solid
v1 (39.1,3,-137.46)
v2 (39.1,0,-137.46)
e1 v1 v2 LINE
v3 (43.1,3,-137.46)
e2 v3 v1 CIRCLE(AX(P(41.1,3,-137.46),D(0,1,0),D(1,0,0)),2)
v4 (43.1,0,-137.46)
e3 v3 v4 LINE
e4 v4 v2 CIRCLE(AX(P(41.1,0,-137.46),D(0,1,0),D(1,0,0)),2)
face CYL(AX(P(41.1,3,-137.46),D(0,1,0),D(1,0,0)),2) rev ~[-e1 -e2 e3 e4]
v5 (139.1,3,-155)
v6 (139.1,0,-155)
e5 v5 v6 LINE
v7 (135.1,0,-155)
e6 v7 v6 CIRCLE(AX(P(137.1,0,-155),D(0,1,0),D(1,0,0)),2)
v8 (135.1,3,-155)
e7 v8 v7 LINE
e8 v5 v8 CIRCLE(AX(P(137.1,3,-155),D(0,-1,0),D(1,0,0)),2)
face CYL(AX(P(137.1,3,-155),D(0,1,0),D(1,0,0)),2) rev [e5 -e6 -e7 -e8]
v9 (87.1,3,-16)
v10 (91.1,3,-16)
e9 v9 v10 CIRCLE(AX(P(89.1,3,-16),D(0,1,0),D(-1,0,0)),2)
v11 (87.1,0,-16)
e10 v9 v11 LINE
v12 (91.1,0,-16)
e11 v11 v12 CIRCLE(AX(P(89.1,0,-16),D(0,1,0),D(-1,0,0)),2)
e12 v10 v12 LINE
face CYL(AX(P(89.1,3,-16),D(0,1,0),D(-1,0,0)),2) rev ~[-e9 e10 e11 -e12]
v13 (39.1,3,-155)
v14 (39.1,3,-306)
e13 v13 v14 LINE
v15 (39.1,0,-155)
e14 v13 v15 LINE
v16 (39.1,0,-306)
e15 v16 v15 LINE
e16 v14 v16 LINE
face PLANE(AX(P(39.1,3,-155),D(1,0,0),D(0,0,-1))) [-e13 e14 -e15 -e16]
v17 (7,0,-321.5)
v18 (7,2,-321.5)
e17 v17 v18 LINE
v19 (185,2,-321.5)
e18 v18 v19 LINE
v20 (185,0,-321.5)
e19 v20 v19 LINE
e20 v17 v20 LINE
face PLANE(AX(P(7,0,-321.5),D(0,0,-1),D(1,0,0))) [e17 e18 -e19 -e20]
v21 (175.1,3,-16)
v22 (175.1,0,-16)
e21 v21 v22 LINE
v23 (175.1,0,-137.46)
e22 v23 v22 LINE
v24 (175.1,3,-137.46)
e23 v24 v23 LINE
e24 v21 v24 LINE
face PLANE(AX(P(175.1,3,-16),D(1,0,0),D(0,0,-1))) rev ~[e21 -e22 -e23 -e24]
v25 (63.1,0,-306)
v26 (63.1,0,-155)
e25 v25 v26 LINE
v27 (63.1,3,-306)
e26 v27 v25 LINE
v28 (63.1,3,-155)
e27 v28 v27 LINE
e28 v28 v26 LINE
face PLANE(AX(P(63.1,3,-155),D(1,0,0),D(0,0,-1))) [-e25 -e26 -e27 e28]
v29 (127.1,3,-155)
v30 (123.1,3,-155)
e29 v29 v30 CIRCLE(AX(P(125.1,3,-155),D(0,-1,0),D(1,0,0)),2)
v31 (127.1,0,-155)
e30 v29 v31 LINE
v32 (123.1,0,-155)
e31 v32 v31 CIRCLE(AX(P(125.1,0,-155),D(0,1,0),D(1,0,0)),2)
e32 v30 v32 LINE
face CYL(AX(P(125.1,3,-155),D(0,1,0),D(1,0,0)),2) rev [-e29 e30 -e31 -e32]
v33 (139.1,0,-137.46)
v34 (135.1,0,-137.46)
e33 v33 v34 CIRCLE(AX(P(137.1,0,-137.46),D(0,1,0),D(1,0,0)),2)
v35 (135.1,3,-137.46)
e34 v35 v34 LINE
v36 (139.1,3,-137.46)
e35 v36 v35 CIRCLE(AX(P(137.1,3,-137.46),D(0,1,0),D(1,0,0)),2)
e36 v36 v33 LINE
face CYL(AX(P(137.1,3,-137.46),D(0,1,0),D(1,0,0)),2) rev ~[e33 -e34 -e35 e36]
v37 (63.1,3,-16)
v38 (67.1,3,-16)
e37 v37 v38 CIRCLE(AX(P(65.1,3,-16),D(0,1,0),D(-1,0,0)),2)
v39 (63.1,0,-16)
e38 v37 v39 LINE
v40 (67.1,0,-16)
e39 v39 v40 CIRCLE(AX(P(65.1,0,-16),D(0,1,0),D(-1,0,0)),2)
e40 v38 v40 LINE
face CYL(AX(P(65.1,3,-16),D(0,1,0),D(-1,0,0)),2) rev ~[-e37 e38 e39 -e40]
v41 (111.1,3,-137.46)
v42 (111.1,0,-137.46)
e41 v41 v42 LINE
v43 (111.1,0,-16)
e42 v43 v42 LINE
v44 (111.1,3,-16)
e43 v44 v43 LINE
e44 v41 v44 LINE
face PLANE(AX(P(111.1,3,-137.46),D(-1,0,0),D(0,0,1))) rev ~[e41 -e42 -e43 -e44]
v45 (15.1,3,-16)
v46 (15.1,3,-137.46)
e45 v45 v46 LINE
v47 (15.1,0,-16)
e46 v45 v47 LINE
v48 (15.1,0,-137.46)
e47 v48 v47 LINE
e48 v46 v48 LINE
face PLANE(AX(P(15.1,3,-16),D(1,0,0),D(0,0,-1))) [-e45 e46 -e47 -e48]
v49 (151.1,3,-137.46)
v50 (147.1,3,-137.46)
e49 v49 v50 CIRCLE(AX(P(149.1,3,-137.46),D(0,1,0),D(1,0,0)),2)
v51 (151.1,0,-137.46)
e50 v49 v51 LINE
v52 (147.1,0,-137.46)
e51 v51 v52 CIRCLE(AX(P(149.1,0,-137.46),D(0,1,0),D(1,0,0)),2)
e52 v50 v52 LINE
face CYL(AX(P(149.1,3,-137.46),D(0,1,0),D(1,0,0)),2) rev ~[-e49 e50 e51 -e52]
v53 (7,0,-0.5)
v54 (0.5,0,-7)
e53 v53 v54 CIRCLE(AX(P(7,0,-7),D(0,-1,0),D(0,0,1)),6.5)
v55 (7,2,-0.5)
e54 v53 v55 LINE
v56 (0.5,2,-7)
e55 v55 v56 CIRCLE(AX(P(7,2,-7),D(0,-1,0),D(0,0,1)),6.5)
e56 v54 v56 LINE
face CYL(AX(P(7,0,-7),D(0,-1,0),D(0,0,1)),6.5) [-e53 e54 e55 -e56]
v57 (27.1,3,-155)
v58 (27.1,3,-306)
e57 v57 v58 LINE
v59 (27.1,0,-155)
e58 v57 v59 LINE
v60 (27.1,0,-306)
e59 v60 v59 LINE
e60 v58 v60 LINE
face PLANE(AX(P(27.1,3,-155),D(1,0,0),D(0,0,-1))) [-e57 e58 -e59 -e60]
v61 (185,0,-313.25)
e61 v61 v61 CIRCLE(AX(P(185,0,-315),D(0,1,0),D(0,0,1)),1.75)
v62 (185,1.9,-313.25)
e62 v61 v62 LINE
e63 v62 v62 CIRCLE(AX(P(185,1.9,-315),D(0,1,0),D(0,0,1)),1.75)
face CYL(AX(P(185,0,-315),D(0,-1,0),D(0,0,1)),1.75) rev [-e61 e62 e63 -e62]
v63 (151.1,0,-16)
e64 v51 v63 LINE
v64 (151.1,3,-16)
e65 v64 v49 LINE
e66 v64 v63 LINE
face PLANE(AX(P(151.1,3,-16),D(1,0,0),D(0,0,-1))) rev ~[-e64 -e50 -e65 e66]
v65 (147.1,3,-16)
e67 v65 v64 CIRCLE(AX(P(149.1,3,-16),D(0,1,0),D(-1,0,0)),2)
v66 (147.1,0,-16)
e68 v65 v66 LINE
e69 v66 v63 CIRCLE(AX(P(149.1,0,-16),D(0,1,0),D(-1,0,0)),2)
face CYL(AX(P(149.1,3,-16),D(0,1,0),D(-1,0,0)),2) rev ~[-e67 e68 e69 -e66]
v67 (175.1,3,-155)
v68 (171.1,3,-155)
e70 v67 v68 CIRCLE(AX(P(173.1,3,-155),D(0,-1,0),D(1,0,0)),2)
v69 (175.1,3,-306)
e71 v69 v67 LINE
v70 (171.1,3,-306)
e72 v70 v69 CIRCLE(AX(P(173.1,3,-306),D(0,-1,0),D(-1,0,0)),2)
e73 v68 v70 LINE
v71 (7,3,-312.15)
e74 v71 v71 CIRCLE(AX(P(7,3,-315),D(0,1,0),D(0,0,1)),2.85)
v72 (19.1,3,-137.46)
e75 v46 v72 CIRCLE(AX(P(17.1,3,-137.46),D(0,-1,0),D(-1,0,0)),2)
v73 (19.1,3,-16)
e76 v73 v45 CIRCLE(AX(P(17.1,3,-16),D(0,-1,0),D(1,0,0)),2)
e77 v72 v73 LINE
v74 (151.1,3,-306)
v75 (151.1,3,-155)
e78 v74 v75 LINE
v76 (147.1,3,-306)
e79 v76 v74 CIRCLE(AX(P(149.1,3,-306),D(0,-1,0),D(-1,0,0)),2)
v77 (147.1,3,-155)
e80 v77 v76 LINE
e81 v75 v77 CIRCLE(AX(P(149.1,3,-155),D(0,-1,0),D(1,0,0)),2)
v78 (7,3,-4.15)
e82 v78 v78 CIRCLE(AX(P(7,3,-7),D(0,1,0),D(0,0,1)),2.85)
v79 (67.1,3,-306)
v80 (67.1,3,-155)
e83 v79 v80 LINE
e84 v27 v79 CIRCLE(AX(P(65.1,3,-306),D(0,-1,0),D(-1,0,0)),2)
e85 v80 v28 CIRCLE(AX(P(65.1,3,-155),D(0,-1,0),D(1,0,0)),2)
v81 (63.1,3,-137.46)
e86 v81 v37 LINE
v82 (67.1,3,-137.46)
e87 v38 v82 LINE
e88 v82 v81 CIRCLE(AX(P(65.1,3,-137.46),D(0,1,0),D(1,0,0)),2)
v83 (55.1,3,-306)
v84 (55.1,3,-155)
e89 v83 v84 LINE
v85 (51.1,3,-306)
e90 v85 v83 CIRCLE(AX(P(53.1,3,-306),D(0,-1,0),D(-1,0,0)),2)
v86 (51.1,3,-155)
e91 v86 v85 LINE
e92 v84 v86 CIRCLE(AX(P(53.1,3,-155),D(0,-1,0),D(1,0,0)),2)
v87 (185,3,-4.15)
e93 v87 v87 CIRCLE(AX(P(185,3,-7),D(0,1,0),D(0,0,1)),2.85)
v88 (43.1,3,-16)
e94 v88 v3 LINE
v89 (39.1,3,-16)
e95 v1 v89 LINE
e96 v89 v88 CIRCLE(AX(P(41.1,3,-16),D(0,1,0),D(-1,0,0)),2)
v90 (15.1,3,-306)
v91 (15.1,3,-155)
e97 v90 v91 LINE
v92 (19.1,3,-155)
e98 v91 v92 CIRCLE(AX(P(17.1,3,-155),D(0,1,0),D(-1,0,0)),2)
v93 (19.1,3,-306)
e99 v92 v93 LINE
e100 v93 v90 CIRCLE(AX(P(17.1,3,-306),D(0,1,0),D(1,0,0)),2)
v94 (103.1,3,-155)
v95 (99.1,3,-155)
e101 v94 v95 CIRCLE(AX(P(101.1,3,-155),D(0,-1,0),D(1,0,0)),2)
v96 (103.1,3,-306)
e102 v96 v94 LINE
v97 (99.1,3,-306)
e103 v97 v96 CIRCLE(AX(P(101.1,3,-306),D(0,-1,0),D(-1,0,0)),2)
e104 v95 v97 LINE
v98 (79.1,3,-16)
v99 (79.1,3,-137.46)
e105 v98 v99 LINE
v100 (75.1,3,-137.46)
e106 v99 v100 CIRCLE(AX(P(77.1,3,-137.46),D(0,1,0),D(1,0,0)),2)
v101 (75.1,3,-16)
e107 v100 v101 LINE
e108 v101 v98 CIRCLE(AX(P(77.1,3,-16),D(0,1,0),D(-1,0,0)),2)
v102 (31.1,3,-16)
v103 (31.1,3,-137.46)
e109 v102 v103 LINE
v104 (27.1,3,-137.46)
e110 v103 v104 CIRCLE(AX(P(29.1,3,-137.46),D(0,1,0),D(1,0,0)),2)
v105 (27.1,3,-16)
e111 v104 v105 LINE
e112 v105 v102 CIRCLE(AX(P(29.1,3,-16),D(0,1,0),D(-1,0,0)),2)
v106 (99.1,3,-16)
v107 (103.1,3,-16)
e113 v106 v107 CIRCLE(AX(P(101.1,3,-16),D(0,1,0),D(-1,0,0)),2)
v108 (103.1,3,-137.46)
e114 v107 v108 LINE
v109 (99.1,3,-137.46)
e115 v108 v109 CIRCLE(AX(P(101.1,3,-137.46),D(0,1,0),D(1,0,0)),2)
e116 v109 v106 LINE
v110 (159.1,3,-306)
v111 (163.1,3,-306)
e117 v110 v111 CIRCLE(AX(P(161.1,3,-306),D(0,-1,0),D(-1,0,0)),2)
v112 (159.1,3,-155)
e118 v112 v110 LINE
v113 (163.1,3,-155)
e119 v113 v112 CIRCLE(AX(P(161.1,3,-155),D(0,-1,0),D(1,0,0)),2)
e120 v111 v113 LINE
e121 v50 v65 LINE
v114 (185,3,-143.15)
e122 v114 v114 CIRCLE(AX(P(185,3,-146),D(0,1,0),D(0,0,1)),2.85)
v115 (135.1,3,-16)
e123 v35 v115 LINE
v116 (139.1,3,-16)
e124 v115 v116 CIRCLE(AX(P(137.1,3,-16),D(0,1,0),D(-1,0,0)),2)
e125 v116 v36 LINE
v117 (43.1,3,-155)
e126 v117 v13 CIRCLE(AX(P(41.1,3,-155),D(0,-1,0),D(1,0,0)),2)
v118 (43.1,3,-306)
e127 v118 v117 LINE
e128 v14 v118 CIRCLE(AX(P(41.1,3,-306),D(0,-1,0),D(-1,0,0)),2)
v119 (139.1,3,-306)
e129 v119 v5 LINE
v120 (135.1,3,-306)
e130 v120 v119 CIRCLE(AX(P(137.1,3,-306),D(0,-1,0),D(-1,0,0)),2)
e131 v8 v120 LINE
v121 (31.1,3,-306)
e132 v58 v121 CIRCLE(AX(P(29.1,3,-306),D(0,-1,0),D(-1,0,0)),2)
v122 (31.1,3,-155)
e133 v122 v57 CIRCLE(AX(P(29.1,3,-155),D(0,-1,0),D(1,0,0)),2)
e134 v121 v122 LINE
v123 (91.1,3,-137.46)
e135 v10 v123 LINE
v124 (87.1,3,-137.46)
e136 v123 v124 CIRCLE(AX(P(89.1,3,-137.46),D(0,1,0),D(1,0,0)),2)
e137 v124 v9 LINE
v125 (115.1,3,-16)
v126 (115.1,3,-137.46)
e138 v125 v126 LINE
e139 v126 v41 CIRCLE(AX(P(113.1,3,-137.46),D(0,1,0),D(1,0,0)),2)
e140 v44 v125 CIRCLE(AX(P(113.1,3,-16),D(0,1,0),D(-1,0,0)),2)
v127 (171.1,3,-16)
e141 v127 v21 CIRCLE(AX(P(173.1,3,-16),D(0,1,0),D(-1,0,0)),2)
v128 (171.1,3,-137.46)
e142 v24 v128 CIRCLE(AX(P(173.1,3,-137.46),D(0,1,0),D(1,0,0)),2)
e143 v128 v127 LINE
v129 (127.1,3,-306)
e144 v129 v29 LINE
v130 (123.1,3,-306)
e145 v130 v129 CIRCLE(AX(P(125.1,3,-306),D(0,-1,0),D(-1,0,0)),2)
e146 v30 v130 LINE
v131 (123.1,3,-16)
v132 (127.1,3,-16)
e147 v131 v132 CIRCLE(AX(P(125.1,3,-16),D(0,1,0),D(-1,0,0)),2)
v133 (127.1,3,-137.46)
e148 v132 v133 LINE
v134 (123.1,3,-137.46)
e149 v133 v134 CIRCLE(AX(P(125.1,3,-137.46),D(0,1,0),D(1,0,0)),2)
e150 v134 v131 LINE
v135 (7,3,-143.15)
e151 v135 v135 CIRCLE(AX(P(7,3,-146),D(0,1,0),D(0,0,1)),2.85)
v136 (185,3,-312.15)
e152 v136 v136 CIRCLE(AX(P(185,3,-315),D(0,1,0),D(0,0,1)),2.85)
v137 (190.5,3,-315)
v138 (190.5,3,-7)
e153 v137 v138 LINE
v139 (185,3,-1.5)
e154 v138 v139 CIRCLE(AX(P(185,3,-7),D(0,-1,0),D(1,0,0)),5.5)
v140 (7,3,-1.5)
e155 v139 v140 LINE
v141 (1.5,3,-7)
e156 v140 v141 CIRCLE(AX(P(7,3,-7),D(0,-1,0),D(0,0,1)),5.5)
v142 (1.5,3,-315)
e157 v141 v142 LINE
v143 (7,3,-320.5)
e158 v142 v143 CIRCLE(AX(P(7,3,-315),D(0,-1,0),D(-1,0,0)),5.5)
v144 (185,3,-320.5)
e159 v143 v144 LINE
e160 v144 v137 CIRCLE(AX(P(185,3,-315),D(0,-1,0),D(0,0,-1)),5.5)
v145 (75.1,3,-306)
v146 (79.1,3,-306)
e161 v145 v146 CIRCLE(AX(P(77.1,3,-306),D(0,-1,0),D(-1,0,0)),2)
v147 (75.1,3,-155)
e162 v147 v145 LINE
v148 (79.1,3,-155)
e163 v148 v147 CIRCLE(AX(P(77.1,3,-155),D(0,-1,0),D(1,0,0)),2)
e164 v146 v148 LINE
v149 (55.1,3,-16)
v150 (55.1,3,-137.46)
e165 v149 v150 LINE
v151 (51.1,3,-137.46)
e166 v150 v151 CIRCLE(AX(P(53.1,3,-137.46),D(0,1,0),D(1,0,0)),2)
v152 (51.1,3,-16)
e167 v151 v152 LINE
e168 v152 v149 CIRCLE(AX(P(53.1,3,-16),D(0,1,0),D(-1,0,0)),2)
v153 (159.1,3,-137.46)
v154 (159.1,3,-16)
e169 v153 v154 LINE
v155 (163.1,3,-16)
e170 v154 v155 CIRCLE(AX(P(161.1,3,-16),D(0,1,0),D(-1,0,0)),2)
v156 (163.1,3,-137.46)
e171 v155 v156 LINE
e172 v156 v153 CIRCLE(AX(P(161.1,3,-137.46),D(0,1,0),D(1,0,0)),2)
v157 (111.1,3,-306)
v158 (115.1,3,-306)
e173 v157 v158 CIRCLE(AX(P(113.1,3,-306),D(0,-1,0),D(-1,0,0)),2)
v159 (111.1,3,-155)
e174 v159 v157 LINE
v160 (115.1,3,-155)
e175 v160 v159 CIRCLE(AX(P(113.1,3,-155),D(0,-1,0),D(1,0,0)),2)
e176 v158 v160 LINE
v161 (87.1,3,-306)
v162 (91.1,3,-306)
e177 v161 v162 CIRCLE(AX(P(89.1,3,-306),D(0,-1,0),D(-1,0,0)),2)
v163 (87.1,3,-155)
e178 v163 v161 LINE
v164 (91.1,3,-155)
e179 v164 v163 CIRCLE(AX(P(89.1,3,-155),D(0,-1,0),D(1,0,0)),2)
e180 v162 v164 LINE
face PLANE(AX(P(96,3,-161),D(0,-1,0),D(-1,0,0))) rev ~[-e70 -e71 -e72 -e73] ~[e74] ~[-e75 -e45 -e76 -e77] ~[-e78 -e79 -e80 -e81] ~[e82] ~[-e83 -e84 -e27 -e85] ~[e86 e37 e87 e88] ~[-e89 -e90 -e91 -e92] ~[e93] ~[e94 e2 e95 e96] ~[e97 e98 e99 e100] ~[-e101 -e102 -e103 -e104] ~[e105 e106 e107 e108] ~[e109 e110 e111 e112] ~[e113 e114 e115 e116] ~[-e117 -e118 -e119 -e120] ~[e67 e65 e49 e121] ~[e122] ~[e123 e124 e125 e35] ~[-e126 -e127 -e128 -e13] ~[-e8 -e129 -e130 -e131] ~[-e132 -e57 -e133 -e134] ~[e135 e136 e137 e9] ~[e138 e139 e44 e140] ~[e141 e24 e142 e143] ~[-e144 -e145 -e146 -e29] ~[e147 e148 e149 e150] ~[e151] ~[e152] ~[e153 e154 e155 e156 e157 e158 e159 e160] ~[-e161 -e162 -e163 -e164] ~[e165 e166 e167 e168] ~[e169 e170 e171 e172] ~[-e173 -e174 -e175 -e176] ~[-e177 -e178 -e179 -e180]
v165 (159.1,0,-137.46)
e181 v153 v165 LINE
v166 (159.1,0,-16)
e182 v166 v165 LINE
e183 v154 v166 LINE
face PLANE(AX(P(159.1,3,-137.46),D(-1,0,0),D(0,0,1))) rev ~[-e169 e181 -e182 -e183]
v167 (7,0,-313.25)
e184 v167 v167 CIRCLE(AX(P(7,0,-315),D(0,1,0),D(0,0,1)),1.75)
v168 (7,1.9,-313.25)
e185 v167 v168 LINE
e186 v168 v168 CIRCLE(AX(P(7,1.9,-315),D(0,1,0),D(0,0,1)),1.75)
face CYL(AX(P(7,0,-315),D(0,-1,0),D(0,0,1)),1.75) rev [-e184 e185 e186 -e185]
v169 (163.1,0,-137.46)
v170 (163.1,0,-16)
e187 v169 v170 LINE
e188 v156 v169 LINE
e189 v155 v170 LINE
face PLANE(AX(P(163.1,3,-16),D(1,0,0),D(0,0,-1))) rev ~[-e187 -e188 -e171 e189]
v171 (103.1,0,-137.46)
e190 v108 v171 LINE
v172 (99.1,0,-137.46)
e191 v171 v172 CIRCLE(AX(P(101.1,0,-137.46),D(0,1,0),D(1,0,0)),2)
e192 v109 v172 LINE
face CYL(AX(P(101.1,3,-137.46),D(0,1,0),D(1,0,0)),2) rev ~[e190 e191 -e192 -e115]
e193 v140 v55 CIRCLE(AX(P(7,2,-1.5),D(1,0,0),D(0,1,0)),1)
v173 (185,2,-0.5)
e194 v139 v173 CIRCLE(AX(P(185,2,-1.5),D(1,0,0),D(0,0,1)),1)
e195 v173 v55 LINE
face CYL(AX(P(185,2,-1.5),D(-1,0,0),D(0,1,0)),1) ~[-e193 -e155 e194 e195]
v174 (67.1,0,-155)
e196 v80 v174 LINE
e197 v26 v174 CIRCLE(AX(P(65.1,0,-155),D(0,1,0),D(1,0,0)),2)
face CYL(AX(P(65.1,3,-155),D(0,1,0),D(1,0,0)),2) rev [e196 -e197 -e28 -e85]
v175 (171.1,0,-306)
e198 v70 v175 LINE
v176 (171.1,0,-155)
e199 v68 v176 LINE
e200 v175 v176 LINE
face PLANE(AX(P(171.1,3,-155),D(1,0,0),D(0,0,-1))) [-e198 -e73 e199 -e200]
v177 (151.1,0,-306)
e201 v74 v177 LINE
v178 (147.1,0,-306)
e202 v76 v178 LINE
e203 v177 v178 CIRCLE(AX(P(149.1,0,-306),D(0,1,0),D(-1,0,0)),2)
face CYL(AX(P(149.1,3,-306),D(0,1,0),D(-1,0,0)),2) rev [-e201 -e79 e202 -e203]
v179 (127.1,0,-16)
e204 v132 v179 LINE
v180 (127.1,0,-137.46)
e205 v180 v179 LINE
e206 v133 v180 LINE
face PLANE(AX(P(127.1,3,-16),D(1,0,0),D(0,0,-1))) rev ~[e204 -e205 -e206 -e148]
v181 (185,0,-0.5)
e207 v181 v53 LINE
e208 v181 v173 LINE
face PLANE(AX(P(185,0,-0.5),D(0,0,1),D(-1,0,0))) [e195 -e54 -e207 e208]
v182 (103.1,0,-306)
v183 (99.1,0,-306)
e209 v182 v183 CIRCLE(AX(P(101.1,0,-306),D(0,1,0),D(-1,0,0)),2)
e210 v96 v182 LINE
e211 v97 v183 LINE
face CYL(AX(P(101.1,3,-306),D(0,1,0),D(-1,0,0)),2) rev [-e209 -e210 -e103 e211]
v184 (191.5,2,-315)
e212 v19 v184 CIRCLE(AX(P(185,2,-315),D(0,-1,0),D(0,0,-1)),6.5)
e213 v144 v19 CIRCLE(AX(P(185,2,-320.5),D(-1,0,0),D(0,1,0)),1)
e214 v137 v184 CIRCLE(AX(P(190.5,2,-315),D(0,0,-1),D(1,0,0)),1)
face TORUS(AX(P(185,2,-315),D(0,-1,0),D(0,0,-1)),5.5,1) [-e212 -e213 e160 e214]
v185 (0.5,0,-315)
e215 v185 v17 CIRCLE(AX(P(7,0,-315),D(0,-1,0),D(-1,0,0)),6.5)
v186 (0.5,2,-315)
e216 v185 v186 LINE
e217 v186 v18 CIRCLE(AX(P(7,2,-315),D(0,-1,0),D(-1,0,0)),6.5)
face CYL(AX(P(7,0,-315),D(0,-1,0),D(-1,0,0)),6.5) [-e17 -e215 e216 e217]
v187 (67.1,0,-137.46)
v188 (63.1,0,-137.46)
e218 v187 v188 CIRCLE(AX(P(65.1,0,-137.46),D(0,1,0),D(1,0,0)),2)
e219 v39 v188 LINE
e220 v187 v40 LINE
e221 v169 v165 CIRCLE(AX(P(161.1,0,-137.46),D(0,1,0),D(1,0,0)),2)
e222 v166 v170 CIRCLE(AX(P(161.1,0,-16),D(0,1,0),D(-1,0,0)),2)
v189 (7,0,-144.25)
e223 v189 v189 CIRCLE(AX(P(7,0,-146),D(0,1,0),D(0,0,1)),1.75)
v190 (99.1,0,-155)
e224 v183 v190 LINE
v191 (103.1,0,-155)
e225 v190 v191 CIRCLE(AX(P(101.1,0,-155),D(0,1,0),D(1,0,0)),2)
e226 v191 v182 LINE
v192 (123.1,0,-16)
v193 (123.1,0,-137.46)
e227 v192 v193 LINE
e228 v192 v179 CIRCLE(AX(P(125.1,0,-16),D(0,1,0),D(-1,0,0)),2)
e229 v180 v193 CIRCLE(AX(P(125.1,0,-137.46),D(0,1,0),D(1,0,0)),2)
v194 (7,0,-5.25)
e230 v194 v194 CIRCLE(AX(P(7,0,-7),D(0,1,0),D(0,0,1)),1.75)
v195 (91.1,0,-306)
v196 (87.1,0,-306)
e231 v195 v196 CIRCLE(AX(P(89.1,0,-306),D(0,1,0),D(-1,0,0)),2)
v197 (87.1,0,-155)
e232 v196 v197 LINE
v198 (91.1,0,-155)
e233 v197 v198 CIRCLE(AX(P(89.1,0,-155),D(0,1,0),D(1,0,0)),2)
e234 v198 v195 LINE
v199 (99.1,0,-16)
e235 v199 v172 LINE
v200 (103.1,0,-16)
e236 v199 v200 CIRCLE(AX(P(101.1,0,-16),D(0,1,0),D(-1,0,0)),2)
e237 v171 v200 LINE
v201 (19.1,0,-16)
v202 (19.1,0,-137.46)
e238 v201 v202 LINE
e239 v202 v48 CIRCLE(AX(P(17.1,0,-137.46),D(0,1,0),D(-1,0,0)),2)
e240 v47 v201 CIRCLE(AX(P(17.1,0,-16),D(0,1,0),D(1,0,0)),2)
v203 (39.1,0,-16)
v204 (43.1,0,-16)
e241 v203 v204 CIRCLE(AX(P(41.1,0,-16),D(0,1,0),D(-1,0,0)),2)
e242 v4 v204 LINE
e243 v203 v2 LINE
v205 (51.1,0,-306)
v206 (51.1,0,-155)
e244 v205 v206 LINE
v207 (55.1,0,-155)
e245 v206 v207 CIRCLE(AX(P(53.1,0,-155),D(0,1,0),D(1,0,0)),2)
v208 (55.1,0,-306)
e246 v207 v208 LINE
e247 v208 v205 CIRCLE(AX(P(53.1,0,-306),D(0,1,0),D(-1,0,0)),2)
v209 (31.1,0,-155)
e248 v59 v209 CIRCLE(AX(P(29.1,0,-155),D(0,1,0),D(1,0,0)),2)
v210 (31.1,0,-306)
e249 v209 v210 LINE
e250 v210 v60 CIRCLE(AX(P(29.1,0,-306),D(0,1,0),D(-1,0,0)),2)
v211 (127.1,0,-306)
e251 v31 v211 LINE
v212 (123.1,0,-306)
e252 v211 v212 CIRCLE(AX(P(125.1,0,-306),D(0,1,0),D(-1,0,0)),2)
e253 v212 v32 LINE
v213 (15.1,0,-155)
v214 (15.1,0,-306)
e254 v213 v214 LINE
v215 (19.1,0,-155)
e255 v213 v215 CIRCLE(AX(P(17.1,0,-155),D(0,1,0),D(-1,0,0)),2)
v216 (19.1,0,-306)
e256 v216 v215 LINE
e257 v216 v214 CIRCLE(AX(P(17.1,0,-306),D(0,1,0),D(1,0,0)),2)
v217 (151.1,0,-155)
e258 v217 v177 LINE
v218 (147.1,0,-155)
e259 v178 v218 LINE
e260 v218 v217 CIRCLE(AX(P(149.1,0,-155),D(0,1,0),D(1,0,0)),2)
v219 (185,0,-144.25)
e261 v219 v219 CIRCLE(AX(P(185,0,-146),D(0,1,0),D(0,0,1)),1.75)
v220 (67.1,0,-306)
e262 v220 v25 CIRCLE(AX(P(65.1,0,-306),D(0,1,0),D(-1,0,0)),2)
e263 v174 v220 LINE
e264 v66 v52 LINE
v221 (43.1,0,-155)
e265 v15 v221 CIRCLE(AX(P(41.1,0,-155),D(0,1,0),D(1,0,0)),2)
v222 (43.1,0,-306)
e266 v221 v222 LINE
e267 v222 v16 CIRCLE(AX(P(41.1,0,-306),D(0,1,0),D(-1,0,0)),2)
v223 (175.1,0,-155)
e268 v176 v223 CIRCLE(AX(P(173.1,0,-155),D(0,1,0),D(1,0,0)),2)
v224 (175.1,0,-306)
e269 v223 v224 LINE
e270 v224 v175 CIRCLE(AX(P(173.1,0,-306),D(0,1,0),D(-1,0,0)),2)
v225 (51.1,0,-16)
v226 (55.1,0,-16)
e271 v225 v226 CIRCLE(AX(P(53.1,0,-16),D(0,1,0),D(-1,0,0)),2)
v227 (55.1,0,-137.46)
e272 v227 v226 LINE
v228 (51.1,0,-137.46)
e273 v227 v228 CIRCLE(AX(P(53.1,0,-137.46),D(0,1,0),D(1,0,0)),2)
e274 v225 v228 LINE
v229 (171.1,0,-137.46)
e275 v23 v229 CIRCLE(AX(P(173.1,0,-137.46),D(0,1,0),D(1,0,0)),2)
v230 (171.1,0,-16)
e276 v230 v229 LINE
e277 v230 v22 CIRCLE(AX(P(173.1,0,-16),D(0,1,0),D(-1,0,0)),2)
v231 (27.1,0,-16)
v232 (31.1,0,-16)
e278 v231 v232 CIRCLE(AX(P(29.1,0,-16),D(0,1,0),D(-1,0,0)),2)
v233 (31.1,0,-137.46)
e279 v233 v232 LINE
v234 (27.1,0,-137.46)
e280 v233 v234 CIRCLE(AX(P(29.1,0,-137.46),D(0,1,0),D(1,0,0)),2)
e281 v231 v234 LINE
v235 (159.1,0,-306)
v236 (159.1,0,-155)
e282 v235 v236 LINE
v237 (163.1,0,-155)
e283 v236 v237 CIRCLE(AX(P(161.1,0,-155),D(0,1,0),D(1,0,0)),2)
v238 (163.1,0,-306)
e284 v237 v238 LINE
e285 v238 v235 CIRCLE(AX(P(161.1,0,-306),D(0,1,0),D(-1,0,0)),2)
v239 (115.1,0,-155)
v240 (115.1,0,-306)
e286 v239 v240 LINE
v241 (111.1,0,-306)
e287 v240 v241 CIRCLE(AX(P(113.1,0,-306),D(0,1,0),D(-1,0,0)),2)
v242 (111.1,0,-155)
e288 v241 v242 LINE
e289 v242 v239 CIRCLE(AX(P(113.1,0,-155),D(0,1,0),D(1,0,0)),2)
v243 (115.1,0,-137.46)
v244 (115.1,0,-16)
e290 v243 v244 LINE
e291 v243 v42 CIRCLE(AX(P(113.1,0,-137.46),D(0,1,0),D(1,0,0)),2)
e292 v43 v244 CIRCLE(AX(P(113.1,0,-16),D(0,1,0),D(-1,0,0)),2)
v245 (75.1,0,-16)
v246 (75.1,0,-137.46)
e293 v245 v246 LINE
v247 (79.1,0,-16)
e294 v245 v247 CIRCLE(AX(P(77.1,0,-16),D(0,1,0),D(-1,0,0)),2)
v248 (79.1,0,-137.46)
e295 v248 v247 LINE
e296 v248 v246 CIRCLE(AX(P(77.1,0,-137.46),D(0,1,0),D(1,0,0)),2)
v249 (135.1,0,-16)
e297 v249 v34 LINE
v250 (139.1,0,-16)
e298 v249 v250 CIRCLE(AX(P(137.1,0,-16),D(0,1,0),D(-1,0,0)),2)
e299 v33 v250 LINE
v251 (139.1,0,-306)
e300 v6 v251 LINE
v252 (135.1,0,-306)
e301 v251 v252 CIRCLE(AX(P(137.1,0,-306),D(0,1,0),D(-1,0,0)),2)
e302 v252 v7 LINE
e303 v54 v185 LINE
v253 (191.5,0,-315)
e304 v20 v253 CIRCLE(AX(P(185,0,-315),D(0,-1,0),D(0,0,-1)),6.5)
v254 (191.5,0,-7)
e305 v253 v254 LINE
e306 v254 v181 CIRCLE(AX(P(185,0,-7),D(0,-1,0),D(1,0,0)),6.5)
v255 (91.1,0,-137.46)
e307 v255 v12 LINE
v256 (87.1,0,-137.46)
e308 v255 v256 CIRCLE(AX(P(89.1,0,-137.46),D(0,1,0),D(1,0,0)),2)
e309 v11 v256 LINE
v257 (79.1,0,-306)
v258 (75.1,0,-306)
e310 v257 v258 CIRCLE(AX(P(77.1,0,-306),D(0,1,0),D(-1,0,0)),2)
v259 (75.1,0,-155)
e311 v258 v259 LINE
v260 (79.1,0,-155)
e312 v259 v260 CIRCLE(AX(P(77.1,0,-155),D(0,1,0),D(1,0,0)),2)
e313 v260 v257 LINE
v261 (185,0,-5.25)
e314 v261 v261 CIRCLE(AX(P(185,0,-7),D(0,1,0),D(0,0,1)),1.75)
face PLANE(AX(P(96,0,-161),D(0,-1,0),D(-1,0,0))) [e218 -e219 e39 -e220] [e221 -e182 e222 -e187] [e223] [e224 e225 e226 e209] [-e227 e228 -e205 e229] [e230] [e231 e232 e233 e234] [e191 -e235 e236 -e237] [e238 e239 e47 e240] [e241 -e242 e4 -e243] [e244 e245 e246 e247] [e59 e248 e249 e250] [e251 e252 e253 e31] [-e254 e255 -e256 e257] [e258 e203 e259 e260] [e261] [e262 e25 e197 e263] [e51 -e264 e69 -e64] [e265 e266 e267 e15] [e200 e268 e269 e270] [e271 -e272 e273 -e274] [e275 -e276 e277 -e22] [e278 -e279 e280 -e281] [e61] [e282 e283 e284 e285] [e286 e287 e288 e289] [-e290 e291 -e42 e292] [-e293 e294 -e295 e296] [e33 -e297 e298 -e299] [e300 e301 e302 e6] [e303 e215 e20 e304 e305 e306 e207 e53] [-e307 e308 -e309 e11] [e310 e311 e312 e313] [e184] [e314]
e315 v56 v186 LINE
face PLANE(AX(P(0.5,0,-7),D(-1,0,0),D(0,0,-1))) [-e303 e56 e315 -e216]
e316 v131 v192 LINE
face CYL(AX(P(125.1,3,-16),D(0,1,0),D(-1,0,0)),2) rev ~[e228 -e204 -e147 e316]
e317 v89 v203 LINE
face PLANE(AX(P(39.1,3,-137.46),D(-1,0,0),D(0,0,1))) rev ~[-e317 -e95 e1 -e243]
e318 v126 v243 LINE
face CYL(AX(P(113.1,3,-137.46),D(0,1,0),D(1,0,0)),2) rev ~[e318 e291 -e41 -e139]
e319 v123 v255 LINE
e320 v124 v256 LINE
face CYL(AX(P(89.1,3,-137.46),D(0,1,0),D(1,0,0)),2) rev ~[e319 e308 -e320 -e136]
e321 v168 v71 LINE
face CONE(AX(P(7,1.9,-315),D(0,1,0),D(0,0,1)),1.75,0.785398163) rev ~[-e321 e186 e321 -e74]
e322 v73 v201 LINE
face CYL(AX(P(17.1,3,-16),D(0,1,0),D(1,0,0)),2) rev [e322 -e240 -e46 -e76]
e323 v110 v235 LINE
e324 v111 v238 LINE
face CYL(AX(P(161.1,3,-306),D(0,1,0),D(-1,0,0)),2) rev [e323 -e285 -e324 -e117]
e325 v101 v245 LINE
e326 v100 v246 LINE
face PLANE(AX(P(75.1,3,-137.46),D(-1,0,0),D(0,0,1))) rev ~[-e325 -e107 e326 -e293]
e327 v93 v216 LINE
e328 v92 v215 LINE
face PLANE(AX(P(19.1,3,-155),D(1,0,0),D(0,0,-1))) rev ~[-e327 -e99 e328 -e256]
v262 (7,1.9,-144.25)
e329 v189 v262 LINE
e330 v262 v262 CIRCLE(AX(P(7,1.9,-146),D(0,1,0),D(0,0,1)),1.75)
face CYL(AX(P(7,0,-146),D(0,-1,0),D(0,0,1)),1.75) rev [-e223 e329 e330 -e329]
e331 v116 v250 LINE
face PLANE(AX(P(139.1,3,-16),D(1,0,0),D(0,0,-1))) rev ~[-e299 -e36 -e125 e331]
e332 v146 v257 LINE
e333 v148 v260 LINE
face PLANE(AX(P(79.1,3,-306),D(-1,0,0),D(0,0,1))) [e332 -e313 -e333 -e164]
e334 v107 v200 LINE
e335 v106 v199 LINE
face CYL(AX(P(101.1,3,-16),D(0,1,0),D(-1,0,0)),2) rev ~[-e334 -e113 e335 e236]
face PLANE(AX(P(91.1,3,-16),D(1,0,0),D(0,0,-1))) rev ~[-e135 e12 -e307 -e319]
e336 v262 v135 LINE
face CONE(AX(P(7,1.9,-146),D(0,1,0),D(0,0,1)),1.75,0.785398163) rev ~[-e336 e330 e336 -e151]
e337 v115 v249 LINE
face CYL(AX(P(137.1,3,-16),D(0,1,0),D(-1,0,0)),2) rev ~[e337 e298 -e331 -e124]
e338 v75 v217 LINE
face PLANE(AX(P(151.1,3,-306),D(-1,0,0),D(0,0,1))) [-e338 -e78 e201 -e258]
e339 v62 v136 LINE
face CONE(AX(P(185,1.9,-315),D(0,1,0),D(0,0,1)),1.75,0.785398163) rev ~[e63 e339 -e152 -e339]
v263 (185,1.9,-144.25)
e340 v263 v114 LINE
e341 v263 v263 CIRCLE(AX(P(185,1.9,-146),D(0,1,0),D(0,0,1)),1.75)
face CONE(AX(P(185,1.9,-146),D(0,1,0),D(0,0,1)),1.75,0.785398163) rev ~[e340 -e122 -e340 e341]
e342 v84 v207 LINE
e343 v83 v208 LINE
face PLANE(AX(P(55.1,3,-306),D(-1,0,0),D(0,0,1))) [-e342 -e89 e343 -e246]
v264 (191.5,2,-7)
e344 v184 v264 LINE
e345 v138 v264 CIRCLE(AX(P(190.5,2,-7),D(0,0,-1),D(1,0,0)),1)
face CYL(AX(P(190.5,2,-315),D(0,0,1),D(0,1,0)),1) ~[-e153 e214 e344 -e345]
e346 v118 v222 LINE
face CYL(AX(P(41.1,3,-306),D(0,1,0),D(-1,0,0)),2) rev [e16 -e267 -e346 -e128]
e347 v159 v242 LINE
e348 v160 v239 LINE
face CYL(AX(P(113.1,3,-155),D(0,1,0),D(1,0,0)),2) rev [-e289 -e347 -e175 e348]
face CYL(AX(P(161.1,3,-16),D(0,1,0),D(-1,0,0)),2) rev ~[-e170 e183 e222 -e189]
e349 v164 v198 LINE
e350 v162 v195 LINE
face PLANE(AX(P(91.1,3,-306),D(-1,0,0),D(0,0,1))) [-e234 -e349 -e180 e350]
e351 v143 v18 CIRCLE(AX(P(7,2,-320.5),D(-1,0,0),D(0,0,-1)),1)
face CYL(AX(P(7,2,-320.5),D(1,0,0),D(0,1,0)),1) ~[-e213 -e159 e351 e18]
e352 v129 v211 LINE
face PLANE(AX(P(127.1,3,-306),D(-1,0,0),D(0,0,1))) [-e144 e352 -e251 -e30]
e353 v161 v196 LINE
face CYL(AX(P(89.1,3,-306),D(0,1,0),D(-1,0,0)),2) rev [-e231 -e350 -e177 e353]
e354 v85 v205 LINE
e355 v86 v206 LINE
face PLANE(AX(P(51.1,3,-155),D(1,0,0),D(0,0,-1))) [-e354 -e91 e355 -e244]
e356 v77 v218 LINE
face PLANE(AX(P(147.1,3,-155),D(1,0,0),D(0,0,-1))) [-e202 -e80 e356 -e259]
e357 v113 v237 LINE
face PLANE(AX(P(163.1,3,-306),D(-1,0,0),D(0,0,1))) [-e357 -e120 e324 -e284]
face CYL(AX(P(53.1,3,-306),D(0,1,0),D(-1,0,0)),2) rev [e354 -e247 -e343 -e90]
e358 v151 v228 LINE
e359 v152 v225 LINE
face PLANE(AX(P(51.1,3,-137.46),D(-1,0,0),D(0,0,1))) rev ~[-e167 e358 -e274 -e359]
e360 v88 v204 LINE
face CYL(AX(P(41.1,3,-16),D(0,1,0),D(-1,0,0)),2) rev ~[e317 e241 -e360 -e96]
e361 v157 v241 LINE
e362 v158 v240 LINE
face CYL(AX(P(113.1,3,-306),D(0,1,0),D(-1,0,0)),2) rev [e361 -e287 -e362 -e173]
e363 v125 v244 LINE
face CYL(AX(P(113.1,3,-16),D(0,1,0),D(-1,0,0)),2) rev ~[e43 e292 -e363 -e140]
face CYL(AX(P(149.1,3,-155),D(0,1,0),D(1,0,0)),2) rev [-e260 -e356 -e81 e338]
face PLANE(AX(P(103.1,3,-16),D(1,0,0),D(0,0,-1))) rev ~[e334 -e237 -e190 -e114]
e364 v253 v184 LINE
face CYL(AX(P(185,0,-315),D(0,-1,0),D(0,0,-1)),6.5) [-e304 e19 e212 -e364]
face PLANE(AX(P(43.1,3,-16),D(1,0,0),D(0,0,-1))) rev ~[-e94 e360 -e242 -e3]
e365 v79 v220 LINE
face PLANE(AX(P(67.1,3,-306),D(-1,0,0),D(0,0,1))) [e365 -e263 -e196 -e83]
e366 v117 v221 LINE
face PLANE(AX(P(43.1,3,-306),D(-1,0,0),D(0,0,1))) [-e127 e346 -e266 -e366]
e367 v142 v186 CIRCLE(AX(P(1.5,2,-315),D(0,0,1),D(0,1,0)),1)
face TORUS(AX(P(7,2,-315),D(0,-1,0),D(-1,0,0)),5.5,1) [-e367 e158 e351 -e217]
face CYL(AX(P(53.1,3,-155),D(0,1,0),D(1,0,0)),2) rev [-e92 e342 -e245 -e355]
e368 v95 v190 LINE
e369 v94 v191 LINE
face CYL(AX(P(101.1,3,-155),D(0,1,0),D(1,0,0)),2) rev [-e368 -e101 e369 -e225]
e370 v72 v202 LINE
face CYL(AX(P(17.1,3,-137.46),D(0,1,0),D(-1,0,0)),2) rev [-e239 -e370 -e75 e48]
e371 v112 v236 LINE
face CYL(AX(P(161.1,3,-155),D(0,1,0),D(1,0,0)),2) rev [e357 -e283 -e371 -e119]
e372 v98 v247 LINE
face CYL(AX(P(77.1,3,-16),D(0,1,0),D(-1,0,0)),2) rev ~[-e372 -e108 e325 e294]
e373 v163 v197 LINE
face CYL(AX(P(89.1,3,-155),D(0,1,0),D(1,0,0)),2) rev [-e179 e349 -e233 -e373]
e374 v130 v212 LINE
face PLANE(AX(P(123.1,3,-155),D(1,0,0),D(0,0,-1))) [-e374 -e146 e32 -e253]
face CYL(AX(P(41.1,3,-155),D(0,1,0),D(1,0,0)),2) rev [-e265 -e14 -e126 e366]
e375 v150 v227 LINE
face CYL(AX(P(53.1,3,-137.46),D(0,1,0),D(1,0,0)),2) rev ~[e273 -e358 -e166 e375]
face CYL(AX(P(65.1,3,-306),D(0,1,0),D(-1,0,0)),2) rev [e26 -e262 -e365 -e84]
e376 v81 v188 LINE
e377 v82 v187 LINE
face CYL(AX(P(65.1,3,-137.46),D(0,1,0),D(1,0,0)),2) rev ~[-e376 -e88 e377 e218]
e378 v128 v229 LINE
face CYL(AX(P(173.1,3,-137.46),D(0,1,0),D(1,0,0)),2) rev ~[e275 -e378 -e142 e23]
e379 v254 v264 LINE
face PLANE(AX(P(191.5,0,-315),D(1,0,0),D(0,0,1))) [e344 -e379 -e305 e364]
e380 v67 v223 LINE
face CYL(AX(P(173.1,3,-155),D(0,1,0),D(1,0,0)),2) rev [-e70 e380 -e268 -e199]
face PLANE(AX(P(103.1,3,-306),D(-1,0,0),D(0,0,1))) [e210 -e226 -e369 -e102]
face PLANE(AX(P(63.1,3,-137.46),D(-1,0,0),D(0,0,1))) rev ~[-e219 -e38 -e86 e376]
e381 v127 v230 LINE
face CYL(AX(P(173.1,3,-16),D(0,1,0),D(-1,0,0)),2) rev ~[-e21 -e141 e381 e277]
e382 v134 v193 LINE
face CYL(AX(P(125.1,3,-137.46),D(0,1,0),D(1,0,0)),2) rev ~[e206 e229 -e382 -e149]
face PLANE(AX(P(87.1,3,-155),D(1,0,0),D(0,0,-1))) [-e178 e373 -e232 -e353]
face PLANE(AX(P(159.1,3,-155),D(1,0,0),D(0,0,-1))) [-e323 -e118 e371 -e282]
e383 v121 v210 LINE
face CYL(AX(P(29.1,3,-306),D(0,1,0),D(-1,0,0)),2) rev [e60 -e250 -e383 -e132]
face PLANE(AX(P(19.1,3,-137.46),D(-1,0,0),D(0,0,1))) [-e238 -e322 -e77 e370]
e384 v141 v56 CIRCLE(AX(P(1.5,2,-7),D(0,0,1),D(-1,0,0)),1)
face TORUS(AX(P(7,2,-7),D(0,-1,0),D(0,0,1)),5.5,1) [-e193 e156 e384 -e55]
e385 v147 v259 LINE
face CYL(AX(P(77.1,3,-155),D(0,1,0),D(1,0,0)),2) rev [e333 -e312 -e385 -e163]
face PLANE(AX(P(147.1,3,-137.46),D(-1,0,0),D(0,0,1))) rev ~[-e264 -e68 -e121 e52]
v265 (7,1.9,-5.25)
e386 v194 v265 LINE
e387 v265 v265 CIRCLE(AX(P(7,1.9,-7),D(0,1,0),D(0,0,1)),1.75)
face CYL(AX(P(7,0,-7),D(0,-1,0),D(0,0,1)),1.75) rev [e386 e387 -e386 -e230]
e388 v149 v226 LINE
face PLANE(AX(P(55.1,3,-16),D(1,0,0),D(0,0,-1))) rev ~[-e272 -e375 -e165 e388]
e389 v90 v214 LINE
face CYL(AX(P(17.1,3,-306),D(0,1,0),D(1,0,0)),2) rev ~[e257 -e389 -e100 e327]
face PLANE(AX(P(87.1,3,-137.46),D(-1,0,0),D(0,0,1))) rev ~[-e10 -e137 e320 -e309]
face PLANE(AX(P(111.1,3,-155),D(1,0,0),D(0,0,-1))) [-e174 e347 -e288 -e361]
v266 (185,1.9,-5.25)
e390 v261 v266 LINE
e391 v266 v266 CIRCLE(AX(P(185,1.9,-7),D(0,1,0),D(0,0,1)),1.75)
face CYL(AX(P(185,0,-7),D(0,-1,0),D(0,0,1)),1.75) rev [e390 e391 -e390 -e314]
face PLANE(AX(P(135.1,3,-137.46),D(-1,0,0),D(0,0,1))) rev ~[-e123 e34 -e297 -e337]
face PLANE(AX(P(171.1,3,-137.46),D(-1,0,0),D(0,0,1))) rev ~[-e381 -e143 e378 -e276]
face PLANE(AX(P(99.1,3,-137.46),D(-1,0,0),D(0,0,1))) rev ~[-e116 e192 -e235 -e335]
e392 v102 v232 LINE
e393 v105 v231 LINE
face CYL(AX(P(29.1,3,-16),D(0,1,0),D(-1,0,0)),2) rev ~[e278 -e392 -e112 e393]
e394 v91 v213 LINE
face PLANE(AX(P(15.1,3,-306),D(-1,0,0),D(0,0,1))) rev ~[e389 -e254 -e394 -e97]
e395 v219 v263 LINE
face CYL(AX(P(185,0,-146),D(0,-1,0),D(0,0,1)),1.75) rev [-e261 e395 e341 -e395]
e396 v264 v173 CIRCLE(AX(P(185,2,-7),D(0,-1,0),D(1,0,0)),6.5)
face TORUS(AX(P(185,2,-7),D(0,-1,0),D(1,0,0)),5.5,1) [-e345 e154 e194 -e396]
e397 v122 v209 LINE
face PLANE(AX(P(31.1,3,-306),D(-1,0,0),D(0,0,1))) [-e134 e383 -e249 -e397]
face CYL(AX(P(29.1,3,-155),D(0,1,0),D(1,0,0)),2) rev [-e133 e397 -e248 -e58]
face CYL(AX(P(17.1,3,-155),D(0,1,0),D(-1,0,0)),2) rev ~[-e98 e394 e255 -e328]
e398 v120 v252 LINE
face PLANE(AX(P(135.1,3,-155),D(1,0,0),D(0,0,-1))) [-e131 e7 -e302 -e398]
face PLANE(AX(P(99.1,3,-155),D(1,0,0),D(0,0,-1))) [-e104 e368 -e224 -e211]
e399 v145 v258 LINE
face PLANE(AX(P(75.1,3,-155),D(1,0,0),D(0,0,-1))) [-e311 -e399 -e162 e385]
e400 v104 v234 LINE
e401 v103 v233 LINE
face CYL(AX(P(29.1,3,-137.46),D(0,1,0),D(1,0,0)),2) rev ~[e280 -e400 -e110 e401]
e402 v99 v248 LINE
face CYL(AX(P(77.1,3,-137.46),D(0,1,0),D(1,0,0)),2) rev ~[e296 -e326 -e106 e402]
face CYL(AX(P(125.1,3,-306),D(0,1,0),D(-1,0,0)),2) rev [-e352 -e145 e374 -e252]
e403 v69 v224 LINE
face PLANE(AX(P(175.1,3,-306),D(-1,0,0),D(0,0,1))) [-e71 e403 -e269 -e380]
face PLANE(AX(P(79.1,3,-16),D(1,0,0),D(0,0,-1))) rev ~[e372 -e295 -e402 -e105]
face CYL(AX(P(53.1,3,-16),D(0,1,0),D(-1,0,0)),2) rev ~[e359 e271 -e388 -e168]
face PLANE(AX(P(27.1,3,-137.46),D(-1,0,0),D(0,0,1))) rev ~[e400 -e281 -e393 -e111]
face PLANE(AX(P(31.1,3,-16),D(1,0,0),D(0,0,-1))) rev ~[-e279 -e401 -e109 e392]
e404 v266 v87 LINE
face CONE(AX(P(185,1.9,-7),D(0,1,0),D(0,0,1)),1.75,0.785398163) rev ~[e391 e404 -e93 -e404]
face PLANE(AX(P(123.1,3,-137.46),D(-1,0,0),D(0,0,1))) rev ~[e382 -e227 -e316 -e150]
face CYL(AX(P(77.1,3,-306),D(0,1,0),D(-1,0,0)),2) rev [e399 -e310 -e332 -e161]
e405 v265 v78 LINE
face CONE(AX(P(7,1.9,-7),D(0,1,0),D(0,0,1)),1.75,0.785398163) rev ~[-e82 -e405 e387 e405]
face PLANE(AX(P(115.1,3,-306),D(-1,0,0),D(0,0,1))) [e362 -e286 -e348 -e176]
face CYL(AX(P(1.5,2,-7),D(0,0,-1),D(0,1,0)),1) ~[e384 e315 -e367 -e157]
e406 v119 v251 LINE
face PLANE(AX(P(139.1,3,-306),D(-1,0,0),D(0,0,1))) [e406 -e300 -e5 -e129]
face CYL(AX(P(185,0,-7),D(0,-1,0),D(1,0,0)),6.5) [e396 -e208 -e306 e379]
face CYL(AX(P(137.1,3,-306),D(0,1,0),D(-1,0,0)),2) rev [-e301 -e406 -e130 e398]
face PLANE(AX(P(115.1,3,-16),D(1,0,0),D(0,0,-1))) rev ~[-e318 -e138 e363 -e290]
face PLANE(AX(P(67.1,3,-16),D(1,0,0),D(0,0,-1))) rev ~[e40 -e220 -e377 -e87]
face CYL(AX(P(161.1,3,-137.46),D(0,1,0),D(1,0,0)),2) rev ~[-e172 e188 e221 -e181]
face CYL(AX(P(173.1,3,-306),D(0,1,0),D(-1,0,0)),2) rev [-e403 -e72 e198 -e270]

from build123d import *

# Parameters (mm, degrees)
SKETCH1_R           = 1.75
BOSS_EXTRUDE1_DEPTH = 3
CHAMFER1_SIZE       = 1.1
CUT_EXTRUDE1_DEPTH  = 38
CUT_EXTRUDE2_DEPTH  = 10
FILLET1_R           = 1


with BuildPart() as part:
    # Sketch1 → Boss-Extrude1 (new body)
    with BuildSketch(Plane(origin=(0, 0, 0), x_dir=(1, 0, 0), z_dir=(0, 1, 0))):
        with BuildLine():
            Line((0, 7), (0, 315))
            ThreePointArc((0, 315), (2.050252532, 319.949747468), (7, 322))
            Line((7, 322), (185, 322))
            ThreePointArc((185, 322), (189.949747468, 319.949747468), (192, 315))
            Line((192, 315), (192, 7))
            ThreePointArc((192, 7), (189.949747468, 2.050252532), (185, 0))
            Line((185, 0), (7, 0))
            ThreePointArc((7, 0), (2.050252532, 2.050252532), (0, 7))
        make_face()
        with Locations(Location((7, 315, 0), (0, 0, 270))):
            Circle(SKETCH1_R, mode=Mode.SUBTRACT)
        with Locations(Location((185, 315, 0), (0, 0, 270))):
            Circle(SKETCH1_R, mode=Mode.SUBTRACT)
        with Locations(Location((185, 7, 0), (0, 0, 270))):
            Circle(SKETCH1_R, mode=Mode.SUBTRACT)
        with Locations(Location((7, 7, 0), (0, 0, 270))):
            Circle(SKETCH1_R, mode=Mode.SUBTRACT)
        with Locations(Location((7, 146, 0), (0, 0, 270))):
            Circle(SKETCH1_R, mode=Mode.SUBTRACT)
        with Locations(Location((185, 146, 0), (0, 0, 270))):
            Circle(SKETCH1_R, mode=Mode.SUBTRACT)
    extrude(amount=BOSS_EXTRUDE1_DEPTH)

    # Chamfer1
    chamfer1_edges = [part.edges().sort_by_distance(p)[0] for p in [
        (7, 3, -316.75),
        (185, 3, -316.75),
        (185, 3, -8.75),
        (7, 3, -8.75),
        (7, 3, -147.75),
        (185, 3, -147.75),
    ]]
    chamfer(chamfer1_edges, length=CHAMFER1_SIZE)

    # Sketch2 → Cut-Extrude1 (cut)
    with BuildSketch(Plane(origin=(0, 3, 0), x_dir=(1, 0, 0), z_dir=(0, 1, 0))):
        with BuildLine():
            Line((31.1, 306), (31.1, 155))
            ThreePointArc((31.1, 155), (29.1, 153), (27.1, 155))
            Line((27.1, 155), (27.1, 306))
            ThreePointArc((27.1, 306), (29.1, 308), (31.1, 306))
        make_face()
        with BuildLine():
            Line((31.1, 16), (31.1, 137.46))
            ThreePointArc((31.1, 137.46), (29.1, 139.46), (27.1, 137.46))
            Line((27.1, 137.46), (27.1, 16))
            ThreePointArc((27.1, 16), (29.1, 14), (31.1, 16))
        make_face()
        with BuildLine():
            Line((15.1, 306), (15.1, 155))
            ThreePointArc((15.1, 155), (17.1, 153), (19.1, 155))
            Line((19.1, 155), (19.1, 306))
            ThreePointArc((19.1, 306), (17.1, 308), (15.1, 306))
        make_face()
        with BuildLine():
            Line((43.1, 306), (43.1, 155))
            ThreePointArc((43.1, 155), (41.1, 153), (39.1, 155))
            Line((39.1, 155), (39.1, 306))
            ThreePointArc((39.1, 306), (41.1, 308), (43.1, 306))
        make_face()
        with BuildLine():
            Line((43.1, 16), (43.1, 137.46))
            ThreePointArc((43.1, 137.46), (41.1, 139.46), (39.1, 137.46))
            Line((39.1, 137.46), (39.1, 16))
            ThreePointArc((39.1, 16), (41.1, 14), (43.1, 16))
        make_face()
        with BuildLine():
            Line((15.1, 16), (15.1, 137.46))
            ThreePointArc((15.1, 137.46), (17.1, 139.46), (19.1, 137.46))
            Line((19.1, 137.46), (19.1, 16))
            ThreePointArc((19.1, 16), (17.1, 14), (15.1, 16))
        make_face()
        with BuildLine():
            Line((55.1, 306), (55.1, 155))
            ThreePointArc((55.1, 155), (53.1, 153), (51.1, 155))
            Line((51.1, 155), (51.1, 306))
            ThreePointArc((51.1, 306), (53.1, 308), (55.1, 306))
        make_face()
        with BuildLine():
            Line((55.1, 16), (55.1, 137.46))
            ThreePointArc((55.1, 137.46), (53.1, 139.46), (51.1, 137.46))
            Line((51.1, 137.46), (51.1, 16))
            ThreePointArc((51.1, 16), (53.1, 14), (55.1, 16))
        make_face()
        with BuildLine():
            Line((67.1, 306), (67.1, 155))
            ThreePointArc((67.1, 155), (65.1, 153), (63.1, 155))
            Line((63.1, 155), (63.1, 306))
            ThreePointArc((63.1, 306), (65.1, 308), (67.1, 306))
        make_face()
        with BuildLine():
            Line((67.1, 16), (67.1, 137.46))
            ThreePointArc((67.1, 137.46), (65.1, 139.46), (63.1, 137.46))
            Line((63.1, 137.46), (63.1, 16))
            ThreePointArc((63.1, 16), (65.1, 14), (67.1, 16))
        make_face()
        with BuildLine():
            Line((79.1, 306), (79.1, 155))
            ThreePointArc((79.1, 155), (77.1, 153), (75.1, 155))
            Line((75.1, 155), (75.1, 306))
            ThreePointArc((75.1, 306), (77.1, 308), (79.1, 306))
        make_face()
        with BuildLine():
            Line((79.1, 16), (79.1, 137.46))
            ThreePointArc((79.1, 137.46), (77.1, 139.46), (75.1, 137.46))
            Line((75.1, 137.46), (75.1, 16))
            ThreePointArc((75.1, 16), (77.1, 14), (79.1, 16))
        make_face()
        with BuildLine():
            Line((91.1, 306), (91.1, 155))
            ThreePointArc((91.1, 155), (89.1, 153), (87.1, 155))
            Line((87.1, 155), (87.1, 306))
            ThreePointArc((87.1, 306), (89.1, 308), (91.1, 306))
        make_face()
        with BuildLine():
            Line((91.1, 16), (91.1, 137.46))
            ThreePointArc((91.1, 137.46), (89.1, 139.46), (87.1, 137.46))
            Line((87.1, 137.46), (87.1, 16))
            ThreePointArc((87.1, 16), (89.1, 14), (91.1, 16))
        make_face()
        with BuildLine():
            Line((103.1, 306), (103.1, 155))
            ThreePointArc((103.1, 155), (101.1, 153), (99.1, 155))
            Line((99.1, 155), (99.1, 306))
            ThreePointArc((99.1, 306), (101.1, 308), (103.1, 306))
        make_face()
        with BuildLine():
            Line((103.1, 16), (103.1, 137.46))
            ThreePointArc((103.1, 137.46), (101.1, 139.46), (99.1, 137.46))
            Line((99.1, 137.46), (99.1, 16))
            ThreePointArc((99.1, 16), (101.1, 14), (103.1, 16))
        make_face()
        with BuildLine():
            Line((115.1, 306), (115.1, 155))
            ThreePointArc((115.1, 155), (113.1, 153), (111.1, 155))
            Line((111.1, 155), (111.1, 306))
            ThreePointArc((111.1, 306), (113.1, 308), (115.1, 306))
        make_face()
        with BuildLine():
            Line((115.1, 16), (115.1, 137.46))
            ThreePointArc((115.1, 137.46), (113.1, 139.46), (111.1, 137.46))
            Line((111.1, 137.46), (111.1, 16))
            ThreePointArc((111.1, 16), (113.1, 14), (115.1, 16))
        make_face()
        with BuildLine():
            Line((127.1, 306), (127.1, 155))
            ThreePointArc((127.1, 155), (125.1, 153), (123.1, 155))
            Line((123.1, 155), (123.1, 306))
            ThreePointArc((123.1, 306), (125.1, 308), (127.1, 306))
        make_face()
        with BuildLine():
            Line((127.1, 16), (127.1, 137.46))
            ThreePointArc((127.1, 137.46), (125.1, 139.46), (123.1, 137.46))
            Line((123.1, 137.46), (123.1, 16))
            ThreePointArc((123.1, 16), (125.1, 14), (127.1, 16))
        make_face()
        with BuildLine():
            Line((139.1, 306), (139.1, 155))
            ThreePointArc((139.1, 155), (137.1, 153), (135.1, 155))
            Line((135.1, 155), (135.1, 306))
            ThreePointArc((135.1, 306), (137.1, 308), (139.1, 306))
        make_face()
        with BuildLine():
            Line((139.1, 16), (139.1, 137.46))
            ThreePointArc((139.1, 137.46), (137.1, 139.46), (135.1, 137.46))
            Line((135.1, 137.46), (135.1, 16))
            ThreePointArc((135.1, 16), (137.1, 14), (139.1, 16))
        make_face()
        with BuildLine():
            Line((151.1, 306), (151.1, 155))
            ThreePointArc((151.1, 155), (149.1, 153), (147.1, 155))
            Line((147.1, 155), (147.1, 306))
            ThreePointArc((147.1, 306), (149.1, 308), (151.1, 306))
        make_face()
        with BuildLine():
            Line((151.1, 16), (151.1, 137.46))
            ThreePointArc((151.1, 137.46), (149.1, 139.46), (147.1, 137.46))
            Line((147.1, 137.46), (147.1, 16))
            ThreePointArc((147.1, 16), (149.1, 14), (151.1, 16))
        make_face()
        with BuildLine():
            Line((163.1, 306), (163.1, 155))
            ThreePointArc((163.1, 155), (161.1, 153), (159.1, 155))
            Line((159.1, 155), (159.1, 306))
            ThreePointArc((159.1, 306), (161.1, 308), (163.1, 306))
        make_face()
        with BuildLine():
            Line((163.1, 16), (163.1, 137.46))
            ThreePointArc((163.1, 137.46), (161.1, 139.46), (159.1, 137.46))
            Line((159.1, 137.46), (159.1, 16))
            ThreePointArc((159.1, 16), (161.1, 14), (163.1, 16))
        make_face()
        with BuildLine():
            Line((175.1, 306), (175.1, 155))
            ThreePointArc((175.1, 155), (173.1, 153), (171.1, 155))
            Line((171.1, 155), (171.1, 306))
            ThreePointArc((171.1, 306), (173.1, 308), (175.1, 306))
        make_face()
        with BuildLine():
            Line((175.1, 16), (175.1, 137.46))
            ThreePointArc((175.1, 137.46), (173.1, 139.46), (171.1, 137.46))
            Line((171.1, 137.46), (171.1, 16))
            ThreePointArc((171.1, 16), (173.1, 14), (175.1, 16))
        make_face()
    extrude(amount=-CUT_EXTRUDE1_DEPTH, mode=Mode.SUBTRACT)

    # Sketch3 → Cut-Extrude2 (cut)
    with BuildSketch(Plane.XZ):
        with BuildLine():
            Line((185, 0), (7, 0))
            ThreePointArc((7, 0), (2.050252532, -2.050252532), (0, -7))
            Line((0, -7), (0, -315))
            ThreePointArc((0, -315), (2.050252532, -319.949747468), (7, -322))
            Line((7, -322), (185, -322))
            ThreePointArc((185, -322), (189.949747468, -319.949747468), (192, -315))
            Line((192, -315), (192, -7))
            ThreePointArc((192, -7), (189.949747468, -2.050252532), (185, 0))
        make_face()
        with BuildLine():
            Line((185, -0.5), (7, -0.5))
            ThreePointArc((7, -0.5), (2.403805922, -2.403805922), (0.5, -7))
            Line((0.5, -7), (0.5, -315))
            ThreePointArc((0.5, -315), (2.403805922, -319.596194078), (7, -321.5))
            Line((7, -321.5), (185, -321.5))
            ThreePointArc((185, -321.5), (189.596194078, -319.596194078), (191.5, -315))
            Line((191.5, -315), (191.5, -7))
            ThreePointArc((191.5, -7), (189.596194078, -2.403805922), (185, -0.5))
        make_face(mode=Mode.SUBTRACT)
    extrude(amount=-CUT_EXTRUDE2_DEPTH, mode=Mode.SUBTRACT)

    # Fillet1
    fillet1_edges = [part.edges().sort_by_distance(p)[0] for p in [
        (189.596194078, 3, -2.403805922),
        (191.5, 3, -161),
        (189.596194078, 3, -319.596194078),
        (96, 3, -321.5),
        (2.403805922, 3, -319.596194078),
        (0.5, 3, -161),
        (2.403805922, 3, -2.403805922),
        (96, 3, -0.5),
    ]]
    fillet(fillet1_edges, radius=FILLET1_R)


solid = part.part
